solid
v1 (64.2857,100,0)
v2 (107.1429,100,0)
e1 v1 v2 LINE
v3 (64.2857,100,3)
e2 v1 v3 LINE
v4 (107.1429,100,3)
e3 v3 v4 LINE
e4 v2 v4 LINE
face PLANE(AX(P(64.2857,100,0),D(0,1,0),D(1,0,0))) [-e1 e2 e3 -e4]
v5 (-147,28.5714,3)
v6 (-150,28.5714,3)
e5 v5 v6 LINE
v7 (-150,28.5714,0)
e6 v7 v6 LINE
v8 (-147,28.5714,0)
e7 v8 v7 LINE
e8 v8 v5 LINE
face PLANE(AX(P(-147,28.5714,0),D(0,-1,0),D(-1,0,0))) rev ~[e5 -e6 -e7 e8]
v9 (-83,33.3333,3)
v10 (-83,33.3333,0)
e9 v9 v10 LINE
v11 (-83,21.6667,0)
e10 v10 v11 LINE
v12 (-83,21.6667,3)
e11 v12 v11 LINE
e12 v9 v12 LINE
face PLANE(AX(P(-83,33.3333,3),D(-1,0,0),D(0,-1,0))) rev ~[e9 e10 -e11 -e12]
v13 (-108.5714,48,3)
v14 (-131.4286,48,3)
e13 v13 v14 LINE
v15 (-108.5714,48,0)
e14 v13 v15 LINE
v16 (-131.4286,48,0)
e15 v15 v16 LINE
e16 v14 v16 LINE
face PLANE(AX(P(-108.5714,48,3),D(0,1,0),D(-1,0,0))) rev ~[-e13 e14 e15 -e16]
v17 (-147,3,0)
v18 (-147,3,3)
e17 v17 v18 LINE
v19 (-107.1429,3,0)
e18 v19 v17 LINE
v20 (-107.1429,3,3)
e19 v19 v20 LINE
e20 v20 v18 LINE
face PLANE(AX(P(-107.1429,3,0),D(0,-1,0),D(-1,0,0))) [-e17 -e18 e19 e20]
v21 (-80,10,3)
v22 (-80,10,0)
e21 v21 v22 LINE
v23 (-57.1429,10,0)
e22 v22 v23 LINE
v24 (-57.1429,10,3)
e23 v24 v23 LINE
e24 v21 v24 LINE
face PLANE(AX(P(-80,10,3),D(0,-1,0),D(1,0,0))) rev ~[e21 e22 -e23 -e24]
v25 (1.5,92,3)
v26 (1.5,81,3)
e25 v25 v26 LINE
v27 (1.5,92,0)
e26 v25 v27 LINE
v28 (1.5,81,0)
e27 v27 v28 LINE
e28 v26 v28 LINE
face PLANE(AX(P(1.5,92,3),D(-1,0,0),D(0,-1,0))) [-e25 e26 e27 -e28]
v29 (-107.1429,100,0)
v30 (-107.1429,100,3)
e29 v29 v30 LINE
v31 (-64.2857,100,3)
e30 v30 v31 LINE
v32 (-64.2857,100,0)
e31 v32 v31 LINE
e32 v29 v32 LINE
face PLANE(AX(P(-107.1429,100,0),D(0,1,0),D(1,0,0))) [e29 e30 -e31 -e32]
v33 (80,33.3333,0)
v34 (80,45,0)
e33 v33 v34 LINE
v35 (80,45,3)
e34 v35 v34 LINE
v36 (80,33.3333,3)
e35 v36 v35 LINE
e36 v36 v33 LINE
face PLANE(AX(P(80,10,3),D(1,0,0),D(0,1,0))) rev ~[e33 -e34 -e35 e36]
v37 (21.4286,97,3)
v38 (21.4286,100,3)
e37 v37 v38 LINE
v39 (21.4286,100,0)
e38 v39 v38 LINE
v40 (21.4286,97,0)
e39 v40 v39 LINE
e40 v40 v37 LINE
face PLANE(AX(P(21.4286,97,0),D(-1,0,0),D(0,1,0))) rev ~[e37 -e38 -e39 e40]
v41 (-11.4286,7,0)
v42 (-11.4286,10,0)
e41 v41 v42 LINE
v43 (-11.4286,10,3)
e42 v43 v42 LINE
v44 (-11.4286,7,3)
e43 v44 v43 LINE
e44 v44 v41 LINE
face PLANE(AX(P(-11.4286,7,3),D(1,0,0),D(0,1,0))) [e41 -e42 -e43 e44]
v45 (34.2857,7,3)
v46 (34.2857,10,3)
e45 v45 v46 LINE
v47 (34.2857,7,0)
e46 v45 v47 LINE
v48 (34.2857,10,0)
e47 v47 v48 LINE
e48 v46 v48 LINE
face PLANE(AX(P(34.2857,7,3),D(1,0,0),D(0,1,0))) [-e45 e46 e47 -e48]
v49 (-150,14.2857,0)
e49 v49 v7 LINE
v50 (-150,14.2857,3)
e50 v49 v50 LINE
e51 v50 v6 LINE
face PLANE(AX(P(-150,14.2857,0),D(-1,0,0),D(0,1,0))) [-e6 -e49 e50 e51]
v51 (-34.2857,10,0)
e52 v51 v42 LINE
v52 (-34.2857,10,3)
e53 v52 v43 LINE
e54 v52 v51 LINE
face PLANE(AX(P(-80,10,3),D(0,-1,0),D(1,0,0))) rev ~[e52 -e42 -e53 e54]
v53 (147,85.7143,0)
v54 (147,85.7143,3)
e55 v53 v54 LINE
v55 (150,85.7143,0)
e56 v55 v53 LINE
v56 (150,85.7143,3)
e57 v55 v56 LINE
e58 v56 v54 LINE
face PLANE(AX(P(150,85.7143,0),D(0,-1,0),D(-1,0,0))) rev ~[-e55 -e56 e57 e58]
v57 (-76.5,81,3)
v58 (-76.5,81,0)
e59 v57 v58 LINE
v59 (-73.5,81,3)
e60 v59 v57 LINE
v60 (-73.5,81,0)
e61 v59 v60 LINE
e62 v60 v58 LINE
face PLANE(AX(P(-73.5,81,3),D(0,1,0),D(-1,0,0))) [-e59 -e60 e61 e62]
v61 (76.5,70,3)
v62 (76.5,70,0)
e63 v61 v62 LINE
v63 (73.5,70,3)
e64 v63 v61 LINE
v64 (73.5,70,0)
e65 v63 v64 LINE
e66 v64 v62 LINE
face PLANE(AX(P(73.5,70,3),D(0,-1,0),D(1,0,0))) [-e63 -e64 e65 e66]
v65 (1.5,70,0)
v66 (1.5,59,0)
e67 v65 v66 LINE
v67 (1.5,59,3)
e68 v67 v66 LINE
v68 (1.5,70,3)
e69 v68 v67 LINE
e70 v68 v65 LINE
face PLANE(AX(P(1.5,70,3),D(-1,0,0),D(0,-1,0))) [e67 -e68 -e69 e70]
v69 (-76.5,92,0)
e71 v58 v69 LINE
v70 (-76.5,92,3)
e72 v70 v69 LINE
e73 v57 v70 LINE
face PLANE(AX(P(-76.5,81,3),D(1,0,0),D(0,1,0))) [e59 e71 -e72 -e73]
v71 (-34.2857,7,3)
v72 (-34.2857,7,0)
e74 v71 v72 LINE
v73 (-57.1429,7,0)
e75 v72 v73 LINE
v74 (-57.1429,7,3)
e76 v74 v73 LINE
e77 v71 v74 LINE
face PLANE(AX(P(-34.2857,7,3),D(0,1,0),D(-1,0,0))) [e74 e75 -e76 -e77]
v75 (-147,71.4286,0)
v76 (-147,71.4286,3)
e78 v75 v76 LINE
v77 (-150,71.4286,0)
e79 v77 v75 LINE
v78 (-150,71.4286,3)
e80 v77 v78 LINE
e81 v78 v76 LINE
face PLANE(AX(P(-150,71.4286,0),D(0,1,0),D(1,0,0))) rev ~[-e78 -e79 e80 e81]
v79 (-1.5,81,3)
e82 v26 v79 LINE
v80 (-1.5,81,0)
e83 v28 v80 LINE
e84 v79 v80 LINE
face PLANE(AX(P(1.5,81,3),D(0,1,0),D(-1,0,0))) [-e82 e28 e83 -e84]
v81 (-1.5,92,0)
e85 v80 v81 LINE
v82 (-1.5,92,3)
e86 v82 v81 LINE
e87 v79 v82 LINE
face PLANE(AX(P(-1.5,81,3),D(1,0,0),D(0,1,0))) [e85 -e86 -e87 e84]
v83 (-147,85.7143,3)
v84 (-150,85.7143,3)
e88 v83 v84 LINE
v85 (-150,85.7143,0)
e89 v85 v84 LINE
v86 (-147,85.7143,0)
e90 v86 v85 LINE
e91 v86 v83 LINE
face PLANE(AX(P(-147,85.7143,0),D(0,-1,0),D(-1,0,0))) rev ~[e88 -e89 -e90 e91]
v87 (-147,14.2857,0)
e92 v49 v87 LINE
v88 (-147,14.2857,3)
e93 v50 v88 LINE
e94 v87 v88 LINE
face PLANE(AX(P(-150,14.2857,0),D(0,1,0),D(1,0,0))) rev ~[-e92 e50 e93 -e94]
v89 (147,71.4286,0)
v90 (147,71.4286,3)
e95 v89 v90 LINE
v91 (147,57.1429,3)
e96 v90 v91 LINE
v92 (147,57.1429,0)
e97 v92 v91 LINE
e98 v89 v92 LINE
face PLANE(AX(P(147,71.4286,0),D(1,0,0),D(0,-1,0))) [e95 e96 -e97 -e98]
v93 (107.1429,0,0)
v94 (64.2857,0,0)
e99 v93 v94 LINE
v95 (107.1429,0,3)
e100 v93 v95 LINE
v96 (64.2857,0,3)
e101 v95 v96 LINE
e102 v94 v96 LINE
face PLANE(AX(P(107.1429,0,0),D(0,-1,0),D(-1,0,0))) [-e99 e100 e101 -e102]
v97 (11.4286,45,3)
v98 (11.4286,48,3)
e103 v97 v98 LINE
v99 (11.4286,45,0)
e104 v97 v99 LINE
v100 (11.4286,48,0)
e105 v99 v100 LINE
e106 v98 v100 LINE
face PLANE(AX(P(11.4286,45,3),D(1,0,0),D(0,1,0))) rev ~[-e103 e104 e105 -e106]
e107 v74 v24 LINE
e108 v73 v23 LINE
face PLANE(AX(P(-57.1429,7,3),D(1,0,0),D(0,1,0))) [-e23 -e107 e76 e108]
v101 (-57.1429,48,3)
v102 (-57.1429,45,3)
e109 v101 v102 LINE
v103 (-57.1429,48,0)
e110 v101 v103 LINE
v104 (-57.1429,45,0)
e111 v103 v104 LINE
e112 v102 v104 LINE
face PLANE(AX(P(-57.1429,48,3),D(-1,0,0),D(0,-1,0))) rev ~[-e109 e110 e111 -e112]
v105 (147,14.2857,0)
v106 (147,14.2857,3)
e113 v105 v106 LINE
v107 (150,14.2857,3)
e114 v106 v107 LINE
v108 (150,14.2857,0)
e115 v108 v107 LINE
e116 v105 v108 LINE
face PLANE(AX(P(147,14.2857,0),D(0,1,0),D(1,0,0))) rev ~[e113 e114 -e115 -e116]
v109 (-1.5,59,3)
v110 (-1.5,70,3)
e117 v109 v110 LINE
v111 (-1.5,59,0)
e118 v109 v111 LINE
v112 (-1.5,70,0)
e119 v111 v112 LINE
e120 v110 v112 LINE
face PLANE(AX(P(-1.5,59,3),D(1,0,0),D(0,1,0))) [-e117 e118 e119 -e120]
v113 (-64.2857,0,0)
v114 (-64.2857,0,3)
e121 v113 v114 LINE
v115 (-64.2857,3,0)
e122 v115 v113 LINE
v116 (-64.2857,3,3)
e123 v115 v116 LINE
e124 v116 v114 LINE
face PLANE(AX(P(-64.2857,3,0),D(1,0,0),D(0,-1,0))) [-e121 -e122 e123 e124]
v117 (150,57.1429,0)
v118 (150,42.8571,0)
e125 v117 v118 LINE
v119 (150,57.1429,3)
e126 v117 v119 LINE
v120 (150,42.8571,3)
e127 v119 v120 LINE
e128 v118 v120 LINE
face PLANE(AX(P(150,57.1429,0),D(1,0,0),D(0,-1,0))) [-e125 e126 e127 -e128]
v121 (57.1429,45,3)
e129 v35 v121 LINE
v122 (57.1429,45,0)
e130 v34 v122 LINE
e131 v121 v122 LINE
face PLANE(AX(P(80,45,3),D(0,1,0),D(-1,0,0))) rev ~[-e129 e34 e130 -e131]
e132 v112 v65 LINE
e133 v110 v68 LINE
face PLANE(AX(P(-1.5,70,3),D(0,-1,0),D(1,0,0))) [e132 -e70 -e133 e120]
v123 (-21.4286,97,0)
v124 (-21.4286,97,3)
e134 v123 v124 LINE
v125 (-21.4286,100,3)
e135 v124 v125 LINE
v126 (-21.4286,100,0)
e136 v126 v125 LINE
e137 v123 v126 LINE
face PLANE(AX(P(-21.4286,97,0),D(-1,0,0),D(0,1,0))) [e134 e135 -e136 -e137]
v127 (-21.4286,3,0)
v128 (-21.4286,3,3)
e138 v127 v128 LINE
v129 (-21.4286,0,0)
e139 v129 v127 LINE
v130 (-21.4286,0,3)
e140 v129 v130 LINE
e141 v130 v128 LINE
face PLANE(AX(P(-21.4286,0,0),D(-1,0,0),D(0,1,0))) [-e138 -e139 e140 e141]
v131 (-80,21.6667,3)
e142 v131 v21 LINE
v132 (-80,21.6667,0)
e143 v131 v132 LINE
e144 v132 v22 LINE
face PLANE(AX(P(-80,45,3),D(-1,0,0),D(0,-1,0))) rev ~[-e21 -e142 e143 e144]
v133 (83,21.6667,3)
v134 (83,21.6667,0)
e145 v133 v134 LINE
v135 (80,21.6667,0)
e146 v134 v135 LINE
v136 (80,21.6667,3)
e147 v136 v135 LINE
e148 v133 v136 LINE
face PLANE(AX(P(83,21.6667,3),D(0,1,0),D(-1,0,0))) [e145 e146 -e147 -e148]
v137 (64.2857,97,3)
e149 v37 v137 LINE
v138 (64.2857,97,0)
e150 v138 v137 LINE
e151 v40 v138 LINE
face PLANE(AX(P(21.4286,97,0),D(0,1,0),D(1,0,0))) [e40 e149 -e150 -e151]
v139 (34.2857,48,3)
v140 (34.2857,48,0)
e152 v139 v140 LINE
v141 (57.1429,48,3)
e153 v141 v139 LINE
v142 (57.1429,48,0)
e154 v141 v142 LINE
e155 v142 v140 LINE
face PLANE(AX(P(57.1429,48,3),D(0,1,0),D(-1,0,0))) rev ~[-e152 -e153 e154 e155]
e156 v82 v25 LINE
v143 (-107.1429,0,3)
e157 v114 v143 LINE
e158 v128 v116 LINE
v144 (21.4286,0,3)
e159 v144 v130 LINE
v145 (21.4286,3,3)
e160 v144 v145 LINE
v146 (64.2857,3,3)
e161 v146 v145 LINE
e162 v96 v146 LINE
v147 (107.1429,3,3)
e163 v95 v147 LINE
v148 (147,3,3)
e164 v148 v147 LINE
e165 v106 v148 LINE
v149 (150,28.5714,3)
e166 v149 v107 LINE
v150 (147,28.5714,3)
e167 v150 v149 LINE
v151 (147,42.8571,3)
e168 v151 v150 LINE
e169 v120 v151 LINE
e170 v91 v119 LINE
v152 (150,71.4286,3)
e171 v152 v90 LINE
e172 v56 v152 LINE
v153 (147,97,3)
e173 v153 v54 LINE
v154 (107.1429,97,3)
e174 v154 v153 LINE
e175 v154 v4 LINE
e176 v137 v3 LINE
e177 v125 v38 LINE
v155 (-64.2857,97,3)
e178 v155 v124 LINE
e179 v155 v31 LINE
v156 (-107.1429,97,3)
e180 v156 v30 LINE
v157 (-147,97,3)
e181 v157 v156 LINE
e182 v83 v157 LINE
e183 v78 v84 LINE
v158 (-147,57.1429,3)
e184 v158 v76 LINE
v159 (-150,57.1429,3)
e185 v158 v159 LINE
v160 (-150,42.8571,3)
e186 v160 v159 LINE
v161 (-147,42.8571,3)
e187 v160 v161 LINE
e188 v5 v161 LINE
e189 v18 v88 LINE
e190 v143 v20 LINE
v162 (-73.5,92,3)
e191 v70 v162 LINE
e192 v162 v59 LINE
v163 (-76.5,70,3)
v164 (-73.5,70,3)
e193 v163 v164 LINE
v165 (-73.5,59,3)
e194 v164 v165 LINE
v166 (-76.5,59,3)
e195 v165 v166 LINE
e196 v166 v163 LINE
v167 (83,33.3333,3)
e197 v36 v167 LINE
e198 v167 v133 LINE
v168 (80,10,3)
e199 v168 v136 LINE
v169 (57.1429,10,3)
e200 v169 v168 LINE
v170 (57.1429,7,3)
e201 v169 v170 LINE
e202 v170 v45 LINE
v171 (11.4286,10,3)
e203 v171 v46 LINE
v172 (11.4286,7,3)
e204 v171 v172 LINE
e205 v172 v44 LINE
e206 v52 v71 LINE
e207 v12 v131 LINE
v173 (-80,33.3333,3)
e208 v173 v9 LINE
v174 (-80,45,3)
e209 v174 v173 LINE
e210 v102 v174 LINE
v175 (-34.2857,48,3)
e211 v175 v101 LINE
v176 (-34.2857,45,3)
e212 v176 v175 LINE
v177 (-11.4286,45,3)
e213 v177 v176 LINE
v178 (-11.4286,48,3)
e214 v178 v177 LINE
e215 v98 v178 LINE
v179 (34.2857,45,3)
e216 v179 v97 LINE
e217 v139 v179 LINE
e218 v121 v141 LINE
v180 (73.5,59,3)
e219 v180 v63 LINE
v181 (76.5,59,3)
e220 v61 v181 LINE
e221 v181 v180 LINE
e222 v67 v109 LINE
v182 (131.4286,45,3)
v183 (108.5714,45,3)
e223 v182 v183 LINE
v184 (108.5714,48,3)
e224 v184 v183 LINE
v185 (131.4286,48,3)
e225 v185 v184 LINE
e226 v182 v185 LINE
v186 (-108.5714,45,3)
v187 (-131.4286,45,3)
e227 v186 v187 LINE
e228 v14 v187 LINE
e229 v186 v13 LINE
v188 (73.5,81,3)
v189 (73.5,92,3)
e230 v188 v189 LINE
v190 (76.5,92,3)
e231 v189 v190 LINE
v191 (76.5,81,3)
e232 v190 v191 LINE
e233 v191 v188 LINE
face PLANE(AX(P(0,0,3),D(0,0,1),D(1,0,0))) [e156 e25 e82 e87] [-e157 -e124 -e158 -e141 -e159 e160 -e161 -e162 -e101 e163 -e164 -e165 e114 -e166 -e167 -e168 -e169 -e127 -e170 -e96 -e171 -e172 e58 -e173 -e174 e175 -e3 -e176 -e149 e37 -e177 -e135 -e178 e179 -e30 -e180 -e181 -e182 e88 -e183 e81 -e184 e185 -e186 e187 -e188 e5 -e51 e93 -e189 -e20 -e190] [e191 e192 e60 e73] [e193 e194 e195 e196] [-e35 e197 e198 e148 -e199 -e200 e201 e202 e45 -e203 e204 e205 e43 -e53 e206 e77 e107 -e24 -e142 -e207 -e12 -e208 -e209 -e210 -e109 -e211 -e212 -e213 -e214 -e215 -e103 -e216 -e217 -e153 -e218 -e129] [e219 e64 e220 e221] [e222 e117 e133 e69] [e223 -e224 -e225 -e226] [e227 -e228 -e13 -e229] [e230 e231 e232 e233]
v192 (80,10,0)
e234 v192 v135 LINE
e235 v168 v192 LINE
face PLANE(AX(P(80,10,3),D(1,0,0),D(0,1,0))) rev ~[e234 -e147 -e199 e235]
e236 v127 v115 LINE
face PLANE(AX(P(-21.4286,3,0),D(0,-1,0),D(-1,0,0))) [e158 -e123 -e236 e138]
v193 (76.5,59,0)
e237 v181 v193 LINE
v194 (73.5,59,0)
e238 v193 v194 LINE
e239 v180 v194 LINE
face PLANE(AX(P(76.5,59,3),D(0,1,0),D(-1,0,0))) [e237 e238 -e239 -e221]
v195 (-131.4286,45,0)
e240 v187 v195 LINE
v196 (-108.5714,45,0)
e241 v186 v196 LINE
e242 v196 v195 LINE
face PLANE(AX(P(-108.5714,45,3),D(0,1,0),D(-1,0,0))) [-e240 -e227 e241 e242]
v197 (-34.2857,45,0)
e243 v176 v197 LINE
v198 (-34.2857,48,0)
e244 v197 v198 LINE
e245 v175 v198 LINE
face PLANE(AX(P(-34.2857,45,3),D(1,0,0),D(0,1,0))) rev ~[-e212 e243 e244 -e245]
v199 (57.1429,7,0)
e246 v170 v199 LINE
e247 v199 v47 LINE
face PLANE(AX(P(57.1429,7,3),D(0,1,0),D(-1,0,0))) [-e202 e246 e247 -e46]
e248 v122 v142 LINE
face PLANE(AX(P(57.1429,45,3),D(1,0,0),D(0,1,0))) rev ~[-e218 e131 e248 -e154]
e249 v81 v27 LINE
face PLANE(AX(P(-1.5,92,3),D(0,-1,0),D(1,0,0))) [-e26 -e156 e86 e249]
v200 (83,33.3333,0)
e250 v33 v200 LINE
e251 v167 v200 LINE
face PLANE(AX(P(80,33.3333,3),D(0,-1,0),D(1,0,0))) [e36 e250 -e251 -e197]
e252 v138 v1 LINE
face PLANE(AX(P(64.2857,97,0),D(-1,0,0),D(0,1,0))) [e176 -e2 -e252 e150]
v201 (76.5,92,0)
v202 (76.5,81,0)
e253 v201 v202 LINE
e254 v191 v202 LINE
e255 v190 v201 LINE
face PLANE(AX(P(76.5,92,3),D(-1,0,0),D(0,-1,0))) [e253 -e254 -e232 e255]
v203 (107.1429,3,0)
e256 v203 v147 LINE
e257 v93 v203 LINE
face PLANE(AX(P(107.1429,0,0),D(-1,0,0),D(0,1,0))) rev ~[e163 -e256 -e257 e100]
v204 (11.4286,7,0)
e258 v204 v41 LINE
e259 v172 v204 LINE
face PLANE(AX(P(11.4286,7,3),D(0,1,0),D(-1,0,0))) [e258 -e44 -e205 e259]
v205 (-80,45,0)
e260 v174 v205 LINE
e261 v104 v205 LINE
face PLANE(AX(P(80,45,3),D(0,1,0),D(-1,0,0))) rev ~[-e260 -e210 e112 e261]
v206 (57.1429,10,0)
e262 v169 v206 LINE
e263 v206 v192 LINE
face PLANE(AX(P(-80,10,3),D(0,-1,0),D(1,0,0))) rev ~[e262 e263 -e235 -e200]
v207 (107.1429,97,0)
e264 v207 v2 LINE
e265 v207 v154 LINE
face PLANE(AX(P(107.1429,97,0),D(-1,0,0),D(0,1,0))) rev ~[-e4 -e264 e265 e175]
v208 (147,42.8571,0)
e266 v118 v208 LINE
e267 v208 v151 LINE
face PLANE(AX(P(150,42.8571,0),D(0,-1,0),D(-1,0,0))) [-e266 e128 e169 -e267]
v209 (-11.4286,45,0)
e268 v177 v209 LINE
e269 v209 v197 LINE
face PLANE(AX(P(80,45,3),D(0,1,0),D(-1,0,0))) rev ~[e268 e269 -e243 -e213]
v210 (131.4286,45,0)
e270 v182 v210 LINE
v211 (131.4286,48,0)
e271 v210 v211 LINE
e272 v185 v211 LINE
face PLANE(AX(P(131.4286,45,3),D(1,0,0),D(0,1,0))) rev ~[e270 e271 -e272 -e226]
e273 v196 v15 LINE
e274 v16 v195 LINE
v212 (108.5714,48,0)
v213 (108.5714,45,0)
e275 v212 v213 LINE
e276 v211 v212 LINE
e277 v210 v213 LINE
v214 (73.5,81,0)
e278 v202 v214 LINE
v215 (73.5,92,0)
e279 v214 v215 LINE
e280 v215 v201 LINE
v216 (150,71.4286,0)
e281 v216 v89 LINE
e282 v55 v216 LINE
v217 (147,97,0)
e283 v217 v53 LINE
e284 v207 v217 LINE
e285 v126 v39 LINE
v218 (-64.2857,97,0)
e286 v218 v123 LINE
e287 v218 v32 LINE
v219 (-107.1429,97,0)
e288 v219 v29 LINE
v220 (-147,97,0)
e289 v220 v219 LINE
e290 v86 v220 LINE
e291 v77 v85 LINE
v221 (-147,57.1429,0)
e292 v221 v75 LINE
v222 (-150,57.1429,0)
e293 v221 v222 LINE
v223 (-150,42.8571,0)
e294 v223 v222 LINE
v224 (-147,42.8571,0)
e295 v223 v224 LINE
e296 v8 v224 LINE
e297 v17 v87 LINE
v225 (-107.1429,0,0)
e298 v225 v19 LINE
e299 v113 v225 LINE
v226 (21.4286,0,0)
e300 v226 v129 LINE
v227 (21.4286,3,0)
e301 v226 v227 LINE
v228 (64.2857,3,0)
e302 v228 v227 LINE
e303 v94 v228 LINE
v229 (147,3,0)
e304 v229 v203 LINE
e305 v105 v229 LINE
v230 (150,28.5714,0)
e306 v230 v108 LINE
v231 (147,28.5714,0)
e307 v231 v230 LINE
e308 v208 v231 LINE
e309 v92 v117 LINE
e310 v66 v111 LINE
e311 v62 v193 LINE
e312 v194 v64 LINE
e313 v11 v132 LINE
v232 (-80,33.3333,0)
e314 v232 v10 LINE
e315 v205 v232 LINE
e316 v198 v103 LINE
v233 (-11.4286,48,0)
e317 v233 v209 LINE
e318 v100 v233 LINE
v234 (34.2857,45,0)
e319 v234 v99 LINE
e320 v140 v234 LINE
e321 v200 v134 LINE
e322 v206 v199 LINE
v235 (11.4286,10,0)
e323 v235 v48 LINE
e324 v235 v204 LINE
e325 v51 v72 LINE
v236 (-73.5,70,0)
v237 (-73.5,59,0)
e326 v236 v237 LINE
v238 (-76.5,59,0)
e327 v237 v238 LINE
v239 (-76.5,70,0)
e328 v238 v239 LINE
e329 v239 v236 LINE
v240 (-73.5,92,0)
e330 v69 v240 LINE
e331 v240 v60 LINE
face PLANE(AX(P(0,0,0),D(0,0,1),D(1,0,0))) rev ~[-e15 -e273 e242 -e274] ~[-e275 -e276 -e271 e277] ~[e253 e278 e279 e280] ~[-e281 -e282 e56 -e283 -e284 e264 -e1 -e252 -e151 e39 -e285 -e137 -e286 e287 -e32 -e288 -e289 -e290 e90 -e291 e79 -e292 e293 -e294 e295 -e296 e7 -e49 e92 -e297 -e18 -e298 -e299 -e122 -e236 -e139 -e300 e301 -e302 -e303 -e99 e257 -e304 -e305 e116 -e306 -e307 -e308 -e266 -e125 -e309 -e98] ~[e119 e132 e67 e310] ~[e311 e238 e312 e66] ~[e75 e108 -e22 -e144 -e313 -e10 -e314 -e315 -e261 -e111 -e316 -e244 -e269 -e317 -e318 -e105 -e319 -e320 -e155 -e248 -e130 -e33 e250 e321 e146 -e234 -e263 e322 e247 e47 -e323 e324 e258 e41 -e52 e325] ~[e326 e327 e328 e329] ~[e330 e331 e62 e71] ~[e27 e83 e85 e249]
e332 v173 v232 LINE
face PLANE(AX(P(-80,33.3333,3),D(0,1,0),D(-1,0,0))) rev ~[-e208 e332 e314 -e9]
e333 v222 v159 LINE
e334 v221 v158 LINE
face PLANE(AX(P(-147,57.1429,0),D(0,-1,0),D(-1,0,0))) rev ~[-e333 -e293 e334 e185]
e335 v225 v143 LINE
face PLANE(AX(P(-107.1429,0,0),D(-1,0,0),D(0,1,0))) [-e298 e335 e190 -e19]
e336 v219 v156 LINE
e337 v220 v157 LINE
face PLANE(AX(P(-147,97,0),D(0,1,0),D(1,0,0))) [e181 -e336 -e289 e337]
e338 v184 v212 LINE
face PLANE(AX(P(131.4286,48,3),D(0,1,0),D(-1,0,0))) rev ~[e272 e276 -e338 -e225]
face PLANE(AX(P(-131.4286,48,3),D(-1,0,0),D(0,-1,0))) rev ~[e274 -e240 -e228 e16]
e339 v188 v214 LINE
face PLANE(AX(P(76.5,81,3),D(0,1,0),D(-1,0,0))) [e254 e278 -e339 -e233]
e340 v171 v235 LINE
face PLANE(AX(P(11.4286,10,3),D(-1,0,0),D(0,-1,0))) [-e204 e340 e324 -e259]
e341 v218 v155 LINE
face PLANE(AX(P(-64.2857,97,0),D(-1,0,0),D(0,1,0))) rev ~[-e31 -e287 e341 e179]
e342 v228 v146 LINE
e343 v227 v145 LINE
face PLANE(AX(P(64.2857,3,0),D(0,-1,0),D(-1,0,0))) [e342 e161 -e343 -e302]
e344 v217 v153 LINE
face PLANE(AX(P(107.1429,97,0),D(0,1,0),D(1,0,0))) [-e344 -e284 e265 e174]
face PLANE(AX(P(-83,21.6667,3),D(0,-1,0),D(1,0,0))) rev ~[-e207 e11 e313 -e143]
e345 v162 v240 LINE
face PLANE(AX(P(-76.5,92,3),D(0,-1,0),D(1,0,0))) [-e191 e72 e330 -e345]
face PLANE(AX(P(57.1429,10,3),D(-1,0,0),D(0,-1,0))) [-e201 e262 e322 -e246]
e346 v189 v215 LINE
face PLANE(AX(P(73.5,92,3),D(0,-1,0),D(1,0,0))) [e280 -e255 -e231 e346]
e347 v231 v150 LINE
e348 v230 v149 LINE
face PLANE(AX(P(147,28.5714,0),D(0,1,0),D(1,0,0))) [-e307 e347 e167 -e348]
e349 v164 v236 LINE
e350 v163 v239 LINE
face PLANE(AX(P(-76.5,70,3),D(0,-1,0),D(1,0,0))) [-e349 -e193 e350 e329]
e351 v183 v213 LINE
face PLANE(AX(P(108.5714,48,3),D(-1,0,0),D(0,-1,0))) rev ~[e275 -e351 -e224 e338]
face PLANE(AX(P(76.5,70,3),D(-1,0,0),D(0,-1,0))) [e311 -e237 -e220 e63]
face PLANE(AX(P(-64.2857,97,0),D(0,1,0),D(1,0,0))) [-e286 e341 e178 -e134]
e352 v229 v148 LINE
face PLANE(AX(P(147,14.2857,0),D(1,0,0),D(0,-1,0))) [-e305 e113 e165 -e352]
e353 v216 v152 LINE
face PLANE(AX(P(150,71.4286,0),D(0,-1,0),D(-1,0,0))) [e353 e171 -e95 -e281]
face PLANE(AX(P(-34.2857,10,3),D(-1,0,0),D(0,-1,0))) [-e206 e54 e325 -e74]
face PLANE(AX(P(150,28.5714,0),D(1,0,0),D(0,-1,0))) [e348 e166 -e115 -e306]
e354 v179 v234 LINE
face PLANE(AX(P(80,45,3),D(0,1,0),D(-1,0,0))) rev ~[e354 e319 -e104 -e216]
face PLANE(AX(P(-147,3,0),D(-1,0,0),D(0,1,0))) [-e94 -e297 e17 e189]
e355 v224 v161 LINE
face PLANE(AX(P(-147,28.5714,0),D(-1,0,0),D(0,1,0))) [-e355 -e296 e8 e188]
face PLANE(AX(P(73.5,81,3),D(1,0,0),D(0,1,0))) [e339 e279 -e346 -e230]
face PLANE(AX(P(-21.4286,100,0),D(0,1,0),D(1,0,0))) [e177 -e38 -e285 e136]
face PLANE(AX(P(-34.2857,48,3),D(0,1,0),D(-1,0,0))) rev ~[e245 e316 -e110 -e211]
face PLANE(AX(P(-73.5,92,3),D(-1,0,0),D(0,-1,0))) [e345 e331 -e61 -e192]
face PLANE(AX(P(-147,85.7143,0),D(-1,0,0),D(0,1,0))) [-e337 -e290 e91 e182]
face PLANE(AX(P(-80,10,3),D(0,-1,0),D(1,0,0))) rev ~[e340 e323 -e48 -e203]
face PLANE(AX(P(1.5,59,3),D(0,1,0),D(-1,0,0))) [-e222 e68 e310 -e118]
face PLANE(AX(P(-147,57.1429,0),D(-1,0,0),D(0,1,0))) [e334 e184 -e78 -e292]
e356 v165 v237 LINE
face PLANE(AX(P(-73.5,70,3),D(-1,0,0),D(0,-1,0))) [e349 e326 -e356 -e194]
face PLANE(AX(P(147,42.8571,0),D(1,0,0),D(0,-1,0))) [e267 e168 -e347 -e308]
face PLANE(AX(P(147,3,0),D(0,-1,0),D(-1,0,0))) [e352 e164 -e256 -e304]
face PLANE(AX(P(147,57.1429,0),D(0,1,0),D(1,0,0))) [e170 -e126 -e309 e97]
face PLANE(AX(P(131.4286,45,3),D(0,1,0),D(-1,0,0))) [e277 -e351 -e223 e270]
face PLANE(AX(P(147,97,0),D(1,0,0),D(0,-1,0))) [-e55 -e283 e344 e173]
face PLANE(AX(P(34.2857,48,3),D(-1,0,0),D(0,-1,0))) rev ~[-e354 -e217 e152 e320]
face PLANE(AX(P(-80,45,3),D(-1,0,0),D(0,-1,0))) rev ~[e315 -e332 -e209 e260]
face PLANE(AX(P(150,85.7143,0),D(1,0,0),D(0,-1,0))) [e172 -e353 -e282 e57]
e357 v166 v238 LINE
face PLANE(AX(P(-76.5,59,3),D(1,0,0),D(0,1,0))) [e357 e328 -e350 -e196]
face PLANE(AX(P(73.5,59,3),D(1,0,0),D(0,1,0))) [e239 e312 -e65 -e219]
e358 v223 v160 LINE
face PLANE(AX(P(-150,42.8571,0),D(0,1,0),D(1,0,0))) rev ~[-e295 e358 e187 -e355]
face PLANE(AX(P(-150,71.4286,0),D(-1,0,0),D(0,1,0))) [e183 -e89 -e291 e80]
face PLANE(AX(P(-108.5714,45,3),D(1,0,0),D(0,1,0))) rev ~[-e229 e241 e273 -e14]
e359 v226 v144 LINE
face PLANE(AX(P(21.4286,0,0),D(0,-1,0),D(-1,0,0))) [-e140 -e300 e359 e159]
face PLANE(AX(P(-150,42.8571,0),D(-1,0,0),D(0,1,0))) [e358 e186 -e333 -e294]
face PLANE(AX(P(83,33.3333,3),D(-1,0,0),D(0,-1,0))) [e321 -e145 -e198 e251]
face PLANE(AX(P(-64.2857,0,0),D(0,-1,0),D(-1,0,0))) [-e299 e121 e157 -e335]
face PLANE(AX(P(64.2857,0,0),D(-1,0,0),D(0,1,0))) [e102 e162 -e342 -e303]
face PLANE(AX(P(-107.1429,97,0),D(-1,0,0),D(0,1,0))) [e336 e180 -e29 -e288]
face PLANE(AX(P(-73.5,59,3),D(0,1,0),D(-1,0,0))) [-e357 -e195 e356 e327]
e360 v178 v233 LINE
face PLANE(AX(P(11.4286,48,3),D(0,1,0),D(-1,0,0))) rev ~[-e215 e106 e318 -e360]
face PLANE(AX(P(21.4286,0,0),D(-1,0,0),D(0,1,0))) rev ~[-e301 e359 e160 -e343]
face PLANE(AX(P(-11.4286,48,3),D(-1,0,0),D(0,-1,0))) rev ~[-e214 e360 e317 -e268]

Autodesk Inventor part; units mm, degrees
ref_plane "YZ Plane" through (0, 0, 0) normal (1, 0, 0) x (0, 1, 0)
ref_plane "XZ Plane" through (0, 0, 0) normal (0, 1, 0) x (-1, 0, 0)
ref_plane "XY Plane" through (0, 0, 0) normal (0, 0, 1) x (1, 0, 0)
sketch "Sketch1" plane through (0, 0, 0) normal (0, 0, 1) x (1, 0, 0)
  line L0 (-150, 14.2857) -> (-147, 14.2857)
  line L1 (-147, 28.5714) -> (-150, 28.5714)
  line L2 (-150, 42.8571) -> (-147, 42.8571)
  line L3 (-147, 57.1429) -> (-150, 57.1429)
  line L4 (-150, 71.4286) -> (-147, 71.4286)
  line L5 (-147, 85.7143) -> (-150, 85.7143)
  line L6 (147, 14.2857) -> (150, 14.2857)
  line L7 (147, 28.5714) -> (150, 28.5714)
  line L8 (150, 42.8571) -> (147, 42.8571)
  line L9 (147, 57.1429) -> (150, 57.1429)
  line L10 (150, 71.4286) -> (147, 71.4286)
  line L11 (150, 85.7143) -> (147, 85.7143)
  line L12 (-107.1429, 0) -> (-107.1429, 3)
  line L13 (-64.2857, 3) -> (-64.2857, 0)
  line L14 (-21.4286, 0) -> (-21.4286, 3)
  line L15 (21.4286, 0) -> (21.4286, 3)
  line L16 (64.2857, 0) -> (64.2857, 3)
  line L17 (107.1429, 0) -> (107.1429, 3)
  line L18 (-107.1429, 97) -> (-107.1429, 100)
  line L19 (-64.2857, 97) -> (-64.2857, 100)
  line L20 (-21.4286, 97) -> (-21.4286, 100)
  line L21 (21.4286, 97) -> (21.4286, 100)
  line L22 (64.2857, 97) -> (64.2857, 100)
  line L23 (107.1429, 97) -> (107.1429, 100)
  line L24 (-107.1429, 3) -> (-147, 3)
  line L25 (-147, 3) -> (-147, 14.2857)
  line L26 (-147, 28.5714) -> (-147, 42.8571)
  line L27 (-147, 57.1429) -> (-147, 71.4286)
  line L28 (-147, 85.7143) -> (-147, 97)
  line L29 (-147, 97) -> (-107.1429, 97)
  line L30 (-64.2857, 97) -> (-21.4286, 97)
  line L31 (21.4286, 97) -> (64.2857, 97)
  line L32 (107.1429, 97) -> (147, 97)
  line L33 (-21.4286, 3) -> (-64.2857, 3)
  line L34 (147, 3) -> (107.1429, 3)
  line L35 (64.2857, 3) -> (21.4286, 3)
  line L36 (-150, 71.4286) -> (-150, 85.7143)
  line L37 (-150, 14.2857) -> (-150, 28.5714)
  line L38 (-150, 42.8571) -> (-150, 57.1429)
  line L39 (-64.2857, 0) -> (-107.1429, 0)
  line L40 (107.1429, 0) -> (64.2857, 0)
  line L41 (21.4286, 0) -> (-21.4286, 0)
  line L42 (-107.1429, 100) -> (-64.2857, 100)
  line L43 (-21.4286, 100) -> (21.4286, 100)
  line L44 (64.2857, 100) -> (107.1429, 100)
  line L45 (150, 28.5714) -> (150, 14.2857)
  line L46 (150, 85.7143) -> (150, 71.4286)
  line L47 (150, 57.1429) -> (150, 42.8571)
  line L48 (147, 97) -> (147, 85.7143)
  line L49 (147, 71.4286) -> (147, 57.1429)
  line L50 (147, 42.8571) -> (147, 28.5714)
  line L51 (147, 14.2857) -> (147, 3)
  point P0 (0, 0)
  dimension "d1" = 300
  dimension "d5" = 42.8571
  dimension "d6" = 150
  dimension "d7" = 85.7143
  dimension "d8" = 128.5714
  dimension "d9" = 171.4286
  dimension "d10" = 214.2857
  dimension "d11" = 257.1429
  dimension "d12" = 100
  dimension "d13" = 14.2857
  dimension "d14" = 0
  dimension "d15" = 3
  dimension "d16" = 28.5714
  dimension "d17" = 42.8571
  dimension "d18" = 57.1429
  dimension "d19" = 71.4286
  dimension "d20" = 85.7143
  dimension "d21" = 94
  dimension "d22" = 3
  dimension "d23" = 3
extrude "Extrusion1" add sketch "Sketch1" along normal blind 3
sketch "Sketch2" plane through (0, 0, 3) normal (0, 0, 1) x (1, 0, 0)
  line L0 (-80, 10) -> (80, 10)
  line L1 (80, 10) -> (80, 45)
  line L2 (80, 45) -> (-80, 45)
  line L3 (-80, 45) -> (-80, 10)
  line L4 (-21.4286, 0) -> (21.4286, 0) projected
  point P0 (0, 0)
  dimension "d26" = 80
  dimension "d27" = 80
  dimension "d28" = 35
  dimension "d29" = 10
extrude "Extrusion2" cut sketch "Sketch2" against normal through all
sketch "Sketch4" plane through (0, 0, 3) normal (0, 0, 1) x (1, 0, 0)
  line L0 (-80, 10) -> (-80, 45) projected
  line L1 (-80, 33.3333) -> (-83, 33.3333)
  line L2 (-83, 33.3333) -> (-83, 21.6667)
  line L3 (-83, 21.6667) -> (-80, 21.6667)
  line L4 (-80, 21.6667) -> (-80, 33.3333)
  line L5 (80, 45) -> (-80, 45) projected
  line L6 (-57.1429, 45) -> (-34.2857, 45)
  line L7 (-34.2857, 45) -> (-34.2857, 48)
  line L8 (-34.2857, 48) -> (-57.1429, 48)
  line L9 (-57.1429, 48) -> (-57.1429, 45)
  line L10 (-11.4286, 45) -> (11.4286, 45)
  line L11 (11.4286, 45) -> (11.4286, 48)
  line L12 (11.4286, 48) -> (-11.4286, 48)
  line L13 (-11.4286, 48) -> (-11.4286, 45)
  line L14 (34.2857, 45) -> (57.1429, 45)
  line L15 (57.1429, 45) -> (57.1429, 48)
  line L16 (57.1429, 48) -> (34.2857, 48)
  line L17 (34.2857, 48) -> (34.2857, 45)
  line L18 (80, 33.3333) -> (83, 33.3333)
  line L19 (83, 33.3333) -> (83, 21.6667)
  line L20 (83, 21.6667) -> (80, 21.6667)
  line L21 (80, 21.6667) -> (80, 33.3333)
  line L22 (80, 45) -> (80, 10) projected
  line L23 (80, 10) -> (-80, 10) projected
  line L24 (-57.1429, 10) -> (-34.2857, 10)
  line L25 (-34.2857, 10) -> (-34.2857, 7)
  line L26 (-34.2857, 7) -> (-57.1429, 7)
  line L27 (-57.1429, 7) -> (-57.1429, 10)
  line L28 (-11.4286, 10) -> (11.4286, 10)
  line L29 (11.4286, 10) -> (11.4286, 7)
  line L30 (11.4286, 7) -> (-11.4286, 7)
  line L31 (-11.4286, 7) -> (-11.4286, 10)
  line L32 (34.2857, 10) -> (57.1429, 10)
  line L33 (57.1429, 10) -> (57.1429, 7)
  line L34 (57.1429, 7) -> (34.2857, 7)
  line L35 (34.2857, 7) -> (34.2857, 10)
  point P0 (0, 0)
  dimension "d42" = 3
  dimension "d43" = 3
  dimension "d44" = 3
  dimension "d45" = 11.6667
  dimension "d46" = 11.6667
  dimension "d47" = 22.8571
  dimension "d48" = 45.7143
  dimension "d49" = 68.5714
  dimension "d50" = 91.4286
  dimension "d51" = 114.2857
  dimension "d52" = 137.1429
  dimension "d53" = 3
extrude "Extrusion3" cut sketch "Sketch4" against normal through all contours L13 L12 L11 L5
pattern_linear "Rectangular Pattern1" count 2 spacing 120 along (1, 0, 0) count 2 spacing 120 along (-1, 0, 0) of "Extrusion3"
extrude "Extrusion4" cut sketch "Sketch4" against normal through all contours L3 L2 L1 L0 | L23 L25 L26 L27 | L23 L29 L30 L31 | L9 L8 L7 L5 | L23 L33 L34 L35 | L17 L16 L15 L5 | L21 L18 L19 L20
sketch "Sketch5" plane through (0, 0, 3) normal (0, 0, 1) x (1, 0, 0)
  line L0 (-76.5, 92) -> (-73.5, 92)
  line L1 (-73.5, 92) -> (-73.5, 81)
  line L2 (-73.5, 81) -> (-76.5, 81)
  line L3 (-76.5, 81) -> (-76.5, 92)
  line L4 (-76.5, 70) -> (-73.5, 70)
  line L5 (-73.5, 70) -> (-73.5, 59)
  line L6 (-73.5, 59) -> (-76.5, 59)
  line L7 (-76.5, 59) -> (-76.5, 70)
  line L8 (-73.5, 92) -> (-73.5, 97) construction
  line L9 (-73.5, 81) -> (-73.5, 70) construction
  line L10 (-73.5, 59) -> (-73.5, 48) construction
  line L11 (-34.2857, 48) -> (-57.1429, 48) projected
  line L12 (-73.5, 48) -> (-57.1429, 48) construction
  line L13 (-57.1429, 48) -> (-34.2857, 48) projected
  line L14 (-73.5, 97) -> (-64.2606, 97) construction
  line L15 (-21.4286, 97) -> (-64.2857, 97) projected
  point P0 (0, 0)
  dimension "d64" = 11
  dimension "d65" = 73.5
  dimension "d66" = 3
  dimension "d72" = 11
extrude "Extrusion5" cut sketch "Sketch5" against normal through all
pattern_linear "Rectangular Pattern2" count 3 spacing 75 along (1, 0, 0) of "Extrusion5"
equation "\"d1\" = wt"
equation "\"d5\" = 0.142857 * wt - tol"
equation "\"d6\" = 0.5 * wt"
equation "\"d7\" = 0.285714 * wt + tol"
equation "\"d8\" = 0.428571 * wt - tol"
equation "\"d9\" = 0.571429 * wt + tol"
equation "\"d10\" = 0.714286 * wt - tol"
equation "\"d11\" = 0.857143 * wt + tol"
equation "\"d12\" = height_front"
equation "\"d13\" = 0.142857 * height_front - tol"
equation "\"d15\" = tt"
equation "\"d16\" = 0.285714 * height_front + tol"
equation "\"d17\" = 0.428571 * height_front - tol"
equation "\"d18\" = 0.571429 * height_front + tol"
equation "\"d19\" = 0.714286 * height_front - tol"
equation "\"d20\" = 0.857143 * height_front + tol"
equation "\"d21\" = -2 * tt + height_front"
equation "\"d22\" = tt"
equation "\"d23\" = tt"
equation "\"d24\" = tt"
equation "\"d26\" = 0.5 * shelfW"
equation "\"d27\" = 0.5 * shelfW"
equation "\"d28\" = shelfH"
equation "\"tiroir\" = 1"
equation "\"d42\" = tt"
equation "\"d43\" = tt"
equation "\"d44\" = tt"
equation "\"d45\" = 0.333333 * shelfH - tol"
equation "\"d46\" = 0.333333 * shelfH - tol"
equation "\"d47\" = 0.142857 * shelfW - tol"
equation "\"d48\" = 0.285714 * shelfW + tol"
equation "\"d49\" = 0.428571 * shelfW - tol"
equation "\"d50\" = 0.571429 * shelfW + tol"
equation "\"d51\" = 0.714286 * shelfW - tol"
equation "\"d52\" = 0.857143 * shelfW + tol"
equation "\"d53\" = tt"
equation "\"d58\" = 0.4 * wt"
equation "\"d61\" = 0.4 * wt"
equation "\"d65\" = 0.25 * wt - 0.5 * tt"
equation "\"d66\" = tt"
equation "\"d71\" = 0.25 * wt"
equation "\"wt\" = 300"
equation "\"tt\" = 3"
equation "\"tol\" = 0"
equation "\"height_front\" = 100"
equation "\"d4\" = tt"
equation "\"nHoles\" = 4"
equation "\"shelfH\" = 35"
equation "\"d33\" = tt"
equation "\"shelfW\" = 160"
properties part number "back"
